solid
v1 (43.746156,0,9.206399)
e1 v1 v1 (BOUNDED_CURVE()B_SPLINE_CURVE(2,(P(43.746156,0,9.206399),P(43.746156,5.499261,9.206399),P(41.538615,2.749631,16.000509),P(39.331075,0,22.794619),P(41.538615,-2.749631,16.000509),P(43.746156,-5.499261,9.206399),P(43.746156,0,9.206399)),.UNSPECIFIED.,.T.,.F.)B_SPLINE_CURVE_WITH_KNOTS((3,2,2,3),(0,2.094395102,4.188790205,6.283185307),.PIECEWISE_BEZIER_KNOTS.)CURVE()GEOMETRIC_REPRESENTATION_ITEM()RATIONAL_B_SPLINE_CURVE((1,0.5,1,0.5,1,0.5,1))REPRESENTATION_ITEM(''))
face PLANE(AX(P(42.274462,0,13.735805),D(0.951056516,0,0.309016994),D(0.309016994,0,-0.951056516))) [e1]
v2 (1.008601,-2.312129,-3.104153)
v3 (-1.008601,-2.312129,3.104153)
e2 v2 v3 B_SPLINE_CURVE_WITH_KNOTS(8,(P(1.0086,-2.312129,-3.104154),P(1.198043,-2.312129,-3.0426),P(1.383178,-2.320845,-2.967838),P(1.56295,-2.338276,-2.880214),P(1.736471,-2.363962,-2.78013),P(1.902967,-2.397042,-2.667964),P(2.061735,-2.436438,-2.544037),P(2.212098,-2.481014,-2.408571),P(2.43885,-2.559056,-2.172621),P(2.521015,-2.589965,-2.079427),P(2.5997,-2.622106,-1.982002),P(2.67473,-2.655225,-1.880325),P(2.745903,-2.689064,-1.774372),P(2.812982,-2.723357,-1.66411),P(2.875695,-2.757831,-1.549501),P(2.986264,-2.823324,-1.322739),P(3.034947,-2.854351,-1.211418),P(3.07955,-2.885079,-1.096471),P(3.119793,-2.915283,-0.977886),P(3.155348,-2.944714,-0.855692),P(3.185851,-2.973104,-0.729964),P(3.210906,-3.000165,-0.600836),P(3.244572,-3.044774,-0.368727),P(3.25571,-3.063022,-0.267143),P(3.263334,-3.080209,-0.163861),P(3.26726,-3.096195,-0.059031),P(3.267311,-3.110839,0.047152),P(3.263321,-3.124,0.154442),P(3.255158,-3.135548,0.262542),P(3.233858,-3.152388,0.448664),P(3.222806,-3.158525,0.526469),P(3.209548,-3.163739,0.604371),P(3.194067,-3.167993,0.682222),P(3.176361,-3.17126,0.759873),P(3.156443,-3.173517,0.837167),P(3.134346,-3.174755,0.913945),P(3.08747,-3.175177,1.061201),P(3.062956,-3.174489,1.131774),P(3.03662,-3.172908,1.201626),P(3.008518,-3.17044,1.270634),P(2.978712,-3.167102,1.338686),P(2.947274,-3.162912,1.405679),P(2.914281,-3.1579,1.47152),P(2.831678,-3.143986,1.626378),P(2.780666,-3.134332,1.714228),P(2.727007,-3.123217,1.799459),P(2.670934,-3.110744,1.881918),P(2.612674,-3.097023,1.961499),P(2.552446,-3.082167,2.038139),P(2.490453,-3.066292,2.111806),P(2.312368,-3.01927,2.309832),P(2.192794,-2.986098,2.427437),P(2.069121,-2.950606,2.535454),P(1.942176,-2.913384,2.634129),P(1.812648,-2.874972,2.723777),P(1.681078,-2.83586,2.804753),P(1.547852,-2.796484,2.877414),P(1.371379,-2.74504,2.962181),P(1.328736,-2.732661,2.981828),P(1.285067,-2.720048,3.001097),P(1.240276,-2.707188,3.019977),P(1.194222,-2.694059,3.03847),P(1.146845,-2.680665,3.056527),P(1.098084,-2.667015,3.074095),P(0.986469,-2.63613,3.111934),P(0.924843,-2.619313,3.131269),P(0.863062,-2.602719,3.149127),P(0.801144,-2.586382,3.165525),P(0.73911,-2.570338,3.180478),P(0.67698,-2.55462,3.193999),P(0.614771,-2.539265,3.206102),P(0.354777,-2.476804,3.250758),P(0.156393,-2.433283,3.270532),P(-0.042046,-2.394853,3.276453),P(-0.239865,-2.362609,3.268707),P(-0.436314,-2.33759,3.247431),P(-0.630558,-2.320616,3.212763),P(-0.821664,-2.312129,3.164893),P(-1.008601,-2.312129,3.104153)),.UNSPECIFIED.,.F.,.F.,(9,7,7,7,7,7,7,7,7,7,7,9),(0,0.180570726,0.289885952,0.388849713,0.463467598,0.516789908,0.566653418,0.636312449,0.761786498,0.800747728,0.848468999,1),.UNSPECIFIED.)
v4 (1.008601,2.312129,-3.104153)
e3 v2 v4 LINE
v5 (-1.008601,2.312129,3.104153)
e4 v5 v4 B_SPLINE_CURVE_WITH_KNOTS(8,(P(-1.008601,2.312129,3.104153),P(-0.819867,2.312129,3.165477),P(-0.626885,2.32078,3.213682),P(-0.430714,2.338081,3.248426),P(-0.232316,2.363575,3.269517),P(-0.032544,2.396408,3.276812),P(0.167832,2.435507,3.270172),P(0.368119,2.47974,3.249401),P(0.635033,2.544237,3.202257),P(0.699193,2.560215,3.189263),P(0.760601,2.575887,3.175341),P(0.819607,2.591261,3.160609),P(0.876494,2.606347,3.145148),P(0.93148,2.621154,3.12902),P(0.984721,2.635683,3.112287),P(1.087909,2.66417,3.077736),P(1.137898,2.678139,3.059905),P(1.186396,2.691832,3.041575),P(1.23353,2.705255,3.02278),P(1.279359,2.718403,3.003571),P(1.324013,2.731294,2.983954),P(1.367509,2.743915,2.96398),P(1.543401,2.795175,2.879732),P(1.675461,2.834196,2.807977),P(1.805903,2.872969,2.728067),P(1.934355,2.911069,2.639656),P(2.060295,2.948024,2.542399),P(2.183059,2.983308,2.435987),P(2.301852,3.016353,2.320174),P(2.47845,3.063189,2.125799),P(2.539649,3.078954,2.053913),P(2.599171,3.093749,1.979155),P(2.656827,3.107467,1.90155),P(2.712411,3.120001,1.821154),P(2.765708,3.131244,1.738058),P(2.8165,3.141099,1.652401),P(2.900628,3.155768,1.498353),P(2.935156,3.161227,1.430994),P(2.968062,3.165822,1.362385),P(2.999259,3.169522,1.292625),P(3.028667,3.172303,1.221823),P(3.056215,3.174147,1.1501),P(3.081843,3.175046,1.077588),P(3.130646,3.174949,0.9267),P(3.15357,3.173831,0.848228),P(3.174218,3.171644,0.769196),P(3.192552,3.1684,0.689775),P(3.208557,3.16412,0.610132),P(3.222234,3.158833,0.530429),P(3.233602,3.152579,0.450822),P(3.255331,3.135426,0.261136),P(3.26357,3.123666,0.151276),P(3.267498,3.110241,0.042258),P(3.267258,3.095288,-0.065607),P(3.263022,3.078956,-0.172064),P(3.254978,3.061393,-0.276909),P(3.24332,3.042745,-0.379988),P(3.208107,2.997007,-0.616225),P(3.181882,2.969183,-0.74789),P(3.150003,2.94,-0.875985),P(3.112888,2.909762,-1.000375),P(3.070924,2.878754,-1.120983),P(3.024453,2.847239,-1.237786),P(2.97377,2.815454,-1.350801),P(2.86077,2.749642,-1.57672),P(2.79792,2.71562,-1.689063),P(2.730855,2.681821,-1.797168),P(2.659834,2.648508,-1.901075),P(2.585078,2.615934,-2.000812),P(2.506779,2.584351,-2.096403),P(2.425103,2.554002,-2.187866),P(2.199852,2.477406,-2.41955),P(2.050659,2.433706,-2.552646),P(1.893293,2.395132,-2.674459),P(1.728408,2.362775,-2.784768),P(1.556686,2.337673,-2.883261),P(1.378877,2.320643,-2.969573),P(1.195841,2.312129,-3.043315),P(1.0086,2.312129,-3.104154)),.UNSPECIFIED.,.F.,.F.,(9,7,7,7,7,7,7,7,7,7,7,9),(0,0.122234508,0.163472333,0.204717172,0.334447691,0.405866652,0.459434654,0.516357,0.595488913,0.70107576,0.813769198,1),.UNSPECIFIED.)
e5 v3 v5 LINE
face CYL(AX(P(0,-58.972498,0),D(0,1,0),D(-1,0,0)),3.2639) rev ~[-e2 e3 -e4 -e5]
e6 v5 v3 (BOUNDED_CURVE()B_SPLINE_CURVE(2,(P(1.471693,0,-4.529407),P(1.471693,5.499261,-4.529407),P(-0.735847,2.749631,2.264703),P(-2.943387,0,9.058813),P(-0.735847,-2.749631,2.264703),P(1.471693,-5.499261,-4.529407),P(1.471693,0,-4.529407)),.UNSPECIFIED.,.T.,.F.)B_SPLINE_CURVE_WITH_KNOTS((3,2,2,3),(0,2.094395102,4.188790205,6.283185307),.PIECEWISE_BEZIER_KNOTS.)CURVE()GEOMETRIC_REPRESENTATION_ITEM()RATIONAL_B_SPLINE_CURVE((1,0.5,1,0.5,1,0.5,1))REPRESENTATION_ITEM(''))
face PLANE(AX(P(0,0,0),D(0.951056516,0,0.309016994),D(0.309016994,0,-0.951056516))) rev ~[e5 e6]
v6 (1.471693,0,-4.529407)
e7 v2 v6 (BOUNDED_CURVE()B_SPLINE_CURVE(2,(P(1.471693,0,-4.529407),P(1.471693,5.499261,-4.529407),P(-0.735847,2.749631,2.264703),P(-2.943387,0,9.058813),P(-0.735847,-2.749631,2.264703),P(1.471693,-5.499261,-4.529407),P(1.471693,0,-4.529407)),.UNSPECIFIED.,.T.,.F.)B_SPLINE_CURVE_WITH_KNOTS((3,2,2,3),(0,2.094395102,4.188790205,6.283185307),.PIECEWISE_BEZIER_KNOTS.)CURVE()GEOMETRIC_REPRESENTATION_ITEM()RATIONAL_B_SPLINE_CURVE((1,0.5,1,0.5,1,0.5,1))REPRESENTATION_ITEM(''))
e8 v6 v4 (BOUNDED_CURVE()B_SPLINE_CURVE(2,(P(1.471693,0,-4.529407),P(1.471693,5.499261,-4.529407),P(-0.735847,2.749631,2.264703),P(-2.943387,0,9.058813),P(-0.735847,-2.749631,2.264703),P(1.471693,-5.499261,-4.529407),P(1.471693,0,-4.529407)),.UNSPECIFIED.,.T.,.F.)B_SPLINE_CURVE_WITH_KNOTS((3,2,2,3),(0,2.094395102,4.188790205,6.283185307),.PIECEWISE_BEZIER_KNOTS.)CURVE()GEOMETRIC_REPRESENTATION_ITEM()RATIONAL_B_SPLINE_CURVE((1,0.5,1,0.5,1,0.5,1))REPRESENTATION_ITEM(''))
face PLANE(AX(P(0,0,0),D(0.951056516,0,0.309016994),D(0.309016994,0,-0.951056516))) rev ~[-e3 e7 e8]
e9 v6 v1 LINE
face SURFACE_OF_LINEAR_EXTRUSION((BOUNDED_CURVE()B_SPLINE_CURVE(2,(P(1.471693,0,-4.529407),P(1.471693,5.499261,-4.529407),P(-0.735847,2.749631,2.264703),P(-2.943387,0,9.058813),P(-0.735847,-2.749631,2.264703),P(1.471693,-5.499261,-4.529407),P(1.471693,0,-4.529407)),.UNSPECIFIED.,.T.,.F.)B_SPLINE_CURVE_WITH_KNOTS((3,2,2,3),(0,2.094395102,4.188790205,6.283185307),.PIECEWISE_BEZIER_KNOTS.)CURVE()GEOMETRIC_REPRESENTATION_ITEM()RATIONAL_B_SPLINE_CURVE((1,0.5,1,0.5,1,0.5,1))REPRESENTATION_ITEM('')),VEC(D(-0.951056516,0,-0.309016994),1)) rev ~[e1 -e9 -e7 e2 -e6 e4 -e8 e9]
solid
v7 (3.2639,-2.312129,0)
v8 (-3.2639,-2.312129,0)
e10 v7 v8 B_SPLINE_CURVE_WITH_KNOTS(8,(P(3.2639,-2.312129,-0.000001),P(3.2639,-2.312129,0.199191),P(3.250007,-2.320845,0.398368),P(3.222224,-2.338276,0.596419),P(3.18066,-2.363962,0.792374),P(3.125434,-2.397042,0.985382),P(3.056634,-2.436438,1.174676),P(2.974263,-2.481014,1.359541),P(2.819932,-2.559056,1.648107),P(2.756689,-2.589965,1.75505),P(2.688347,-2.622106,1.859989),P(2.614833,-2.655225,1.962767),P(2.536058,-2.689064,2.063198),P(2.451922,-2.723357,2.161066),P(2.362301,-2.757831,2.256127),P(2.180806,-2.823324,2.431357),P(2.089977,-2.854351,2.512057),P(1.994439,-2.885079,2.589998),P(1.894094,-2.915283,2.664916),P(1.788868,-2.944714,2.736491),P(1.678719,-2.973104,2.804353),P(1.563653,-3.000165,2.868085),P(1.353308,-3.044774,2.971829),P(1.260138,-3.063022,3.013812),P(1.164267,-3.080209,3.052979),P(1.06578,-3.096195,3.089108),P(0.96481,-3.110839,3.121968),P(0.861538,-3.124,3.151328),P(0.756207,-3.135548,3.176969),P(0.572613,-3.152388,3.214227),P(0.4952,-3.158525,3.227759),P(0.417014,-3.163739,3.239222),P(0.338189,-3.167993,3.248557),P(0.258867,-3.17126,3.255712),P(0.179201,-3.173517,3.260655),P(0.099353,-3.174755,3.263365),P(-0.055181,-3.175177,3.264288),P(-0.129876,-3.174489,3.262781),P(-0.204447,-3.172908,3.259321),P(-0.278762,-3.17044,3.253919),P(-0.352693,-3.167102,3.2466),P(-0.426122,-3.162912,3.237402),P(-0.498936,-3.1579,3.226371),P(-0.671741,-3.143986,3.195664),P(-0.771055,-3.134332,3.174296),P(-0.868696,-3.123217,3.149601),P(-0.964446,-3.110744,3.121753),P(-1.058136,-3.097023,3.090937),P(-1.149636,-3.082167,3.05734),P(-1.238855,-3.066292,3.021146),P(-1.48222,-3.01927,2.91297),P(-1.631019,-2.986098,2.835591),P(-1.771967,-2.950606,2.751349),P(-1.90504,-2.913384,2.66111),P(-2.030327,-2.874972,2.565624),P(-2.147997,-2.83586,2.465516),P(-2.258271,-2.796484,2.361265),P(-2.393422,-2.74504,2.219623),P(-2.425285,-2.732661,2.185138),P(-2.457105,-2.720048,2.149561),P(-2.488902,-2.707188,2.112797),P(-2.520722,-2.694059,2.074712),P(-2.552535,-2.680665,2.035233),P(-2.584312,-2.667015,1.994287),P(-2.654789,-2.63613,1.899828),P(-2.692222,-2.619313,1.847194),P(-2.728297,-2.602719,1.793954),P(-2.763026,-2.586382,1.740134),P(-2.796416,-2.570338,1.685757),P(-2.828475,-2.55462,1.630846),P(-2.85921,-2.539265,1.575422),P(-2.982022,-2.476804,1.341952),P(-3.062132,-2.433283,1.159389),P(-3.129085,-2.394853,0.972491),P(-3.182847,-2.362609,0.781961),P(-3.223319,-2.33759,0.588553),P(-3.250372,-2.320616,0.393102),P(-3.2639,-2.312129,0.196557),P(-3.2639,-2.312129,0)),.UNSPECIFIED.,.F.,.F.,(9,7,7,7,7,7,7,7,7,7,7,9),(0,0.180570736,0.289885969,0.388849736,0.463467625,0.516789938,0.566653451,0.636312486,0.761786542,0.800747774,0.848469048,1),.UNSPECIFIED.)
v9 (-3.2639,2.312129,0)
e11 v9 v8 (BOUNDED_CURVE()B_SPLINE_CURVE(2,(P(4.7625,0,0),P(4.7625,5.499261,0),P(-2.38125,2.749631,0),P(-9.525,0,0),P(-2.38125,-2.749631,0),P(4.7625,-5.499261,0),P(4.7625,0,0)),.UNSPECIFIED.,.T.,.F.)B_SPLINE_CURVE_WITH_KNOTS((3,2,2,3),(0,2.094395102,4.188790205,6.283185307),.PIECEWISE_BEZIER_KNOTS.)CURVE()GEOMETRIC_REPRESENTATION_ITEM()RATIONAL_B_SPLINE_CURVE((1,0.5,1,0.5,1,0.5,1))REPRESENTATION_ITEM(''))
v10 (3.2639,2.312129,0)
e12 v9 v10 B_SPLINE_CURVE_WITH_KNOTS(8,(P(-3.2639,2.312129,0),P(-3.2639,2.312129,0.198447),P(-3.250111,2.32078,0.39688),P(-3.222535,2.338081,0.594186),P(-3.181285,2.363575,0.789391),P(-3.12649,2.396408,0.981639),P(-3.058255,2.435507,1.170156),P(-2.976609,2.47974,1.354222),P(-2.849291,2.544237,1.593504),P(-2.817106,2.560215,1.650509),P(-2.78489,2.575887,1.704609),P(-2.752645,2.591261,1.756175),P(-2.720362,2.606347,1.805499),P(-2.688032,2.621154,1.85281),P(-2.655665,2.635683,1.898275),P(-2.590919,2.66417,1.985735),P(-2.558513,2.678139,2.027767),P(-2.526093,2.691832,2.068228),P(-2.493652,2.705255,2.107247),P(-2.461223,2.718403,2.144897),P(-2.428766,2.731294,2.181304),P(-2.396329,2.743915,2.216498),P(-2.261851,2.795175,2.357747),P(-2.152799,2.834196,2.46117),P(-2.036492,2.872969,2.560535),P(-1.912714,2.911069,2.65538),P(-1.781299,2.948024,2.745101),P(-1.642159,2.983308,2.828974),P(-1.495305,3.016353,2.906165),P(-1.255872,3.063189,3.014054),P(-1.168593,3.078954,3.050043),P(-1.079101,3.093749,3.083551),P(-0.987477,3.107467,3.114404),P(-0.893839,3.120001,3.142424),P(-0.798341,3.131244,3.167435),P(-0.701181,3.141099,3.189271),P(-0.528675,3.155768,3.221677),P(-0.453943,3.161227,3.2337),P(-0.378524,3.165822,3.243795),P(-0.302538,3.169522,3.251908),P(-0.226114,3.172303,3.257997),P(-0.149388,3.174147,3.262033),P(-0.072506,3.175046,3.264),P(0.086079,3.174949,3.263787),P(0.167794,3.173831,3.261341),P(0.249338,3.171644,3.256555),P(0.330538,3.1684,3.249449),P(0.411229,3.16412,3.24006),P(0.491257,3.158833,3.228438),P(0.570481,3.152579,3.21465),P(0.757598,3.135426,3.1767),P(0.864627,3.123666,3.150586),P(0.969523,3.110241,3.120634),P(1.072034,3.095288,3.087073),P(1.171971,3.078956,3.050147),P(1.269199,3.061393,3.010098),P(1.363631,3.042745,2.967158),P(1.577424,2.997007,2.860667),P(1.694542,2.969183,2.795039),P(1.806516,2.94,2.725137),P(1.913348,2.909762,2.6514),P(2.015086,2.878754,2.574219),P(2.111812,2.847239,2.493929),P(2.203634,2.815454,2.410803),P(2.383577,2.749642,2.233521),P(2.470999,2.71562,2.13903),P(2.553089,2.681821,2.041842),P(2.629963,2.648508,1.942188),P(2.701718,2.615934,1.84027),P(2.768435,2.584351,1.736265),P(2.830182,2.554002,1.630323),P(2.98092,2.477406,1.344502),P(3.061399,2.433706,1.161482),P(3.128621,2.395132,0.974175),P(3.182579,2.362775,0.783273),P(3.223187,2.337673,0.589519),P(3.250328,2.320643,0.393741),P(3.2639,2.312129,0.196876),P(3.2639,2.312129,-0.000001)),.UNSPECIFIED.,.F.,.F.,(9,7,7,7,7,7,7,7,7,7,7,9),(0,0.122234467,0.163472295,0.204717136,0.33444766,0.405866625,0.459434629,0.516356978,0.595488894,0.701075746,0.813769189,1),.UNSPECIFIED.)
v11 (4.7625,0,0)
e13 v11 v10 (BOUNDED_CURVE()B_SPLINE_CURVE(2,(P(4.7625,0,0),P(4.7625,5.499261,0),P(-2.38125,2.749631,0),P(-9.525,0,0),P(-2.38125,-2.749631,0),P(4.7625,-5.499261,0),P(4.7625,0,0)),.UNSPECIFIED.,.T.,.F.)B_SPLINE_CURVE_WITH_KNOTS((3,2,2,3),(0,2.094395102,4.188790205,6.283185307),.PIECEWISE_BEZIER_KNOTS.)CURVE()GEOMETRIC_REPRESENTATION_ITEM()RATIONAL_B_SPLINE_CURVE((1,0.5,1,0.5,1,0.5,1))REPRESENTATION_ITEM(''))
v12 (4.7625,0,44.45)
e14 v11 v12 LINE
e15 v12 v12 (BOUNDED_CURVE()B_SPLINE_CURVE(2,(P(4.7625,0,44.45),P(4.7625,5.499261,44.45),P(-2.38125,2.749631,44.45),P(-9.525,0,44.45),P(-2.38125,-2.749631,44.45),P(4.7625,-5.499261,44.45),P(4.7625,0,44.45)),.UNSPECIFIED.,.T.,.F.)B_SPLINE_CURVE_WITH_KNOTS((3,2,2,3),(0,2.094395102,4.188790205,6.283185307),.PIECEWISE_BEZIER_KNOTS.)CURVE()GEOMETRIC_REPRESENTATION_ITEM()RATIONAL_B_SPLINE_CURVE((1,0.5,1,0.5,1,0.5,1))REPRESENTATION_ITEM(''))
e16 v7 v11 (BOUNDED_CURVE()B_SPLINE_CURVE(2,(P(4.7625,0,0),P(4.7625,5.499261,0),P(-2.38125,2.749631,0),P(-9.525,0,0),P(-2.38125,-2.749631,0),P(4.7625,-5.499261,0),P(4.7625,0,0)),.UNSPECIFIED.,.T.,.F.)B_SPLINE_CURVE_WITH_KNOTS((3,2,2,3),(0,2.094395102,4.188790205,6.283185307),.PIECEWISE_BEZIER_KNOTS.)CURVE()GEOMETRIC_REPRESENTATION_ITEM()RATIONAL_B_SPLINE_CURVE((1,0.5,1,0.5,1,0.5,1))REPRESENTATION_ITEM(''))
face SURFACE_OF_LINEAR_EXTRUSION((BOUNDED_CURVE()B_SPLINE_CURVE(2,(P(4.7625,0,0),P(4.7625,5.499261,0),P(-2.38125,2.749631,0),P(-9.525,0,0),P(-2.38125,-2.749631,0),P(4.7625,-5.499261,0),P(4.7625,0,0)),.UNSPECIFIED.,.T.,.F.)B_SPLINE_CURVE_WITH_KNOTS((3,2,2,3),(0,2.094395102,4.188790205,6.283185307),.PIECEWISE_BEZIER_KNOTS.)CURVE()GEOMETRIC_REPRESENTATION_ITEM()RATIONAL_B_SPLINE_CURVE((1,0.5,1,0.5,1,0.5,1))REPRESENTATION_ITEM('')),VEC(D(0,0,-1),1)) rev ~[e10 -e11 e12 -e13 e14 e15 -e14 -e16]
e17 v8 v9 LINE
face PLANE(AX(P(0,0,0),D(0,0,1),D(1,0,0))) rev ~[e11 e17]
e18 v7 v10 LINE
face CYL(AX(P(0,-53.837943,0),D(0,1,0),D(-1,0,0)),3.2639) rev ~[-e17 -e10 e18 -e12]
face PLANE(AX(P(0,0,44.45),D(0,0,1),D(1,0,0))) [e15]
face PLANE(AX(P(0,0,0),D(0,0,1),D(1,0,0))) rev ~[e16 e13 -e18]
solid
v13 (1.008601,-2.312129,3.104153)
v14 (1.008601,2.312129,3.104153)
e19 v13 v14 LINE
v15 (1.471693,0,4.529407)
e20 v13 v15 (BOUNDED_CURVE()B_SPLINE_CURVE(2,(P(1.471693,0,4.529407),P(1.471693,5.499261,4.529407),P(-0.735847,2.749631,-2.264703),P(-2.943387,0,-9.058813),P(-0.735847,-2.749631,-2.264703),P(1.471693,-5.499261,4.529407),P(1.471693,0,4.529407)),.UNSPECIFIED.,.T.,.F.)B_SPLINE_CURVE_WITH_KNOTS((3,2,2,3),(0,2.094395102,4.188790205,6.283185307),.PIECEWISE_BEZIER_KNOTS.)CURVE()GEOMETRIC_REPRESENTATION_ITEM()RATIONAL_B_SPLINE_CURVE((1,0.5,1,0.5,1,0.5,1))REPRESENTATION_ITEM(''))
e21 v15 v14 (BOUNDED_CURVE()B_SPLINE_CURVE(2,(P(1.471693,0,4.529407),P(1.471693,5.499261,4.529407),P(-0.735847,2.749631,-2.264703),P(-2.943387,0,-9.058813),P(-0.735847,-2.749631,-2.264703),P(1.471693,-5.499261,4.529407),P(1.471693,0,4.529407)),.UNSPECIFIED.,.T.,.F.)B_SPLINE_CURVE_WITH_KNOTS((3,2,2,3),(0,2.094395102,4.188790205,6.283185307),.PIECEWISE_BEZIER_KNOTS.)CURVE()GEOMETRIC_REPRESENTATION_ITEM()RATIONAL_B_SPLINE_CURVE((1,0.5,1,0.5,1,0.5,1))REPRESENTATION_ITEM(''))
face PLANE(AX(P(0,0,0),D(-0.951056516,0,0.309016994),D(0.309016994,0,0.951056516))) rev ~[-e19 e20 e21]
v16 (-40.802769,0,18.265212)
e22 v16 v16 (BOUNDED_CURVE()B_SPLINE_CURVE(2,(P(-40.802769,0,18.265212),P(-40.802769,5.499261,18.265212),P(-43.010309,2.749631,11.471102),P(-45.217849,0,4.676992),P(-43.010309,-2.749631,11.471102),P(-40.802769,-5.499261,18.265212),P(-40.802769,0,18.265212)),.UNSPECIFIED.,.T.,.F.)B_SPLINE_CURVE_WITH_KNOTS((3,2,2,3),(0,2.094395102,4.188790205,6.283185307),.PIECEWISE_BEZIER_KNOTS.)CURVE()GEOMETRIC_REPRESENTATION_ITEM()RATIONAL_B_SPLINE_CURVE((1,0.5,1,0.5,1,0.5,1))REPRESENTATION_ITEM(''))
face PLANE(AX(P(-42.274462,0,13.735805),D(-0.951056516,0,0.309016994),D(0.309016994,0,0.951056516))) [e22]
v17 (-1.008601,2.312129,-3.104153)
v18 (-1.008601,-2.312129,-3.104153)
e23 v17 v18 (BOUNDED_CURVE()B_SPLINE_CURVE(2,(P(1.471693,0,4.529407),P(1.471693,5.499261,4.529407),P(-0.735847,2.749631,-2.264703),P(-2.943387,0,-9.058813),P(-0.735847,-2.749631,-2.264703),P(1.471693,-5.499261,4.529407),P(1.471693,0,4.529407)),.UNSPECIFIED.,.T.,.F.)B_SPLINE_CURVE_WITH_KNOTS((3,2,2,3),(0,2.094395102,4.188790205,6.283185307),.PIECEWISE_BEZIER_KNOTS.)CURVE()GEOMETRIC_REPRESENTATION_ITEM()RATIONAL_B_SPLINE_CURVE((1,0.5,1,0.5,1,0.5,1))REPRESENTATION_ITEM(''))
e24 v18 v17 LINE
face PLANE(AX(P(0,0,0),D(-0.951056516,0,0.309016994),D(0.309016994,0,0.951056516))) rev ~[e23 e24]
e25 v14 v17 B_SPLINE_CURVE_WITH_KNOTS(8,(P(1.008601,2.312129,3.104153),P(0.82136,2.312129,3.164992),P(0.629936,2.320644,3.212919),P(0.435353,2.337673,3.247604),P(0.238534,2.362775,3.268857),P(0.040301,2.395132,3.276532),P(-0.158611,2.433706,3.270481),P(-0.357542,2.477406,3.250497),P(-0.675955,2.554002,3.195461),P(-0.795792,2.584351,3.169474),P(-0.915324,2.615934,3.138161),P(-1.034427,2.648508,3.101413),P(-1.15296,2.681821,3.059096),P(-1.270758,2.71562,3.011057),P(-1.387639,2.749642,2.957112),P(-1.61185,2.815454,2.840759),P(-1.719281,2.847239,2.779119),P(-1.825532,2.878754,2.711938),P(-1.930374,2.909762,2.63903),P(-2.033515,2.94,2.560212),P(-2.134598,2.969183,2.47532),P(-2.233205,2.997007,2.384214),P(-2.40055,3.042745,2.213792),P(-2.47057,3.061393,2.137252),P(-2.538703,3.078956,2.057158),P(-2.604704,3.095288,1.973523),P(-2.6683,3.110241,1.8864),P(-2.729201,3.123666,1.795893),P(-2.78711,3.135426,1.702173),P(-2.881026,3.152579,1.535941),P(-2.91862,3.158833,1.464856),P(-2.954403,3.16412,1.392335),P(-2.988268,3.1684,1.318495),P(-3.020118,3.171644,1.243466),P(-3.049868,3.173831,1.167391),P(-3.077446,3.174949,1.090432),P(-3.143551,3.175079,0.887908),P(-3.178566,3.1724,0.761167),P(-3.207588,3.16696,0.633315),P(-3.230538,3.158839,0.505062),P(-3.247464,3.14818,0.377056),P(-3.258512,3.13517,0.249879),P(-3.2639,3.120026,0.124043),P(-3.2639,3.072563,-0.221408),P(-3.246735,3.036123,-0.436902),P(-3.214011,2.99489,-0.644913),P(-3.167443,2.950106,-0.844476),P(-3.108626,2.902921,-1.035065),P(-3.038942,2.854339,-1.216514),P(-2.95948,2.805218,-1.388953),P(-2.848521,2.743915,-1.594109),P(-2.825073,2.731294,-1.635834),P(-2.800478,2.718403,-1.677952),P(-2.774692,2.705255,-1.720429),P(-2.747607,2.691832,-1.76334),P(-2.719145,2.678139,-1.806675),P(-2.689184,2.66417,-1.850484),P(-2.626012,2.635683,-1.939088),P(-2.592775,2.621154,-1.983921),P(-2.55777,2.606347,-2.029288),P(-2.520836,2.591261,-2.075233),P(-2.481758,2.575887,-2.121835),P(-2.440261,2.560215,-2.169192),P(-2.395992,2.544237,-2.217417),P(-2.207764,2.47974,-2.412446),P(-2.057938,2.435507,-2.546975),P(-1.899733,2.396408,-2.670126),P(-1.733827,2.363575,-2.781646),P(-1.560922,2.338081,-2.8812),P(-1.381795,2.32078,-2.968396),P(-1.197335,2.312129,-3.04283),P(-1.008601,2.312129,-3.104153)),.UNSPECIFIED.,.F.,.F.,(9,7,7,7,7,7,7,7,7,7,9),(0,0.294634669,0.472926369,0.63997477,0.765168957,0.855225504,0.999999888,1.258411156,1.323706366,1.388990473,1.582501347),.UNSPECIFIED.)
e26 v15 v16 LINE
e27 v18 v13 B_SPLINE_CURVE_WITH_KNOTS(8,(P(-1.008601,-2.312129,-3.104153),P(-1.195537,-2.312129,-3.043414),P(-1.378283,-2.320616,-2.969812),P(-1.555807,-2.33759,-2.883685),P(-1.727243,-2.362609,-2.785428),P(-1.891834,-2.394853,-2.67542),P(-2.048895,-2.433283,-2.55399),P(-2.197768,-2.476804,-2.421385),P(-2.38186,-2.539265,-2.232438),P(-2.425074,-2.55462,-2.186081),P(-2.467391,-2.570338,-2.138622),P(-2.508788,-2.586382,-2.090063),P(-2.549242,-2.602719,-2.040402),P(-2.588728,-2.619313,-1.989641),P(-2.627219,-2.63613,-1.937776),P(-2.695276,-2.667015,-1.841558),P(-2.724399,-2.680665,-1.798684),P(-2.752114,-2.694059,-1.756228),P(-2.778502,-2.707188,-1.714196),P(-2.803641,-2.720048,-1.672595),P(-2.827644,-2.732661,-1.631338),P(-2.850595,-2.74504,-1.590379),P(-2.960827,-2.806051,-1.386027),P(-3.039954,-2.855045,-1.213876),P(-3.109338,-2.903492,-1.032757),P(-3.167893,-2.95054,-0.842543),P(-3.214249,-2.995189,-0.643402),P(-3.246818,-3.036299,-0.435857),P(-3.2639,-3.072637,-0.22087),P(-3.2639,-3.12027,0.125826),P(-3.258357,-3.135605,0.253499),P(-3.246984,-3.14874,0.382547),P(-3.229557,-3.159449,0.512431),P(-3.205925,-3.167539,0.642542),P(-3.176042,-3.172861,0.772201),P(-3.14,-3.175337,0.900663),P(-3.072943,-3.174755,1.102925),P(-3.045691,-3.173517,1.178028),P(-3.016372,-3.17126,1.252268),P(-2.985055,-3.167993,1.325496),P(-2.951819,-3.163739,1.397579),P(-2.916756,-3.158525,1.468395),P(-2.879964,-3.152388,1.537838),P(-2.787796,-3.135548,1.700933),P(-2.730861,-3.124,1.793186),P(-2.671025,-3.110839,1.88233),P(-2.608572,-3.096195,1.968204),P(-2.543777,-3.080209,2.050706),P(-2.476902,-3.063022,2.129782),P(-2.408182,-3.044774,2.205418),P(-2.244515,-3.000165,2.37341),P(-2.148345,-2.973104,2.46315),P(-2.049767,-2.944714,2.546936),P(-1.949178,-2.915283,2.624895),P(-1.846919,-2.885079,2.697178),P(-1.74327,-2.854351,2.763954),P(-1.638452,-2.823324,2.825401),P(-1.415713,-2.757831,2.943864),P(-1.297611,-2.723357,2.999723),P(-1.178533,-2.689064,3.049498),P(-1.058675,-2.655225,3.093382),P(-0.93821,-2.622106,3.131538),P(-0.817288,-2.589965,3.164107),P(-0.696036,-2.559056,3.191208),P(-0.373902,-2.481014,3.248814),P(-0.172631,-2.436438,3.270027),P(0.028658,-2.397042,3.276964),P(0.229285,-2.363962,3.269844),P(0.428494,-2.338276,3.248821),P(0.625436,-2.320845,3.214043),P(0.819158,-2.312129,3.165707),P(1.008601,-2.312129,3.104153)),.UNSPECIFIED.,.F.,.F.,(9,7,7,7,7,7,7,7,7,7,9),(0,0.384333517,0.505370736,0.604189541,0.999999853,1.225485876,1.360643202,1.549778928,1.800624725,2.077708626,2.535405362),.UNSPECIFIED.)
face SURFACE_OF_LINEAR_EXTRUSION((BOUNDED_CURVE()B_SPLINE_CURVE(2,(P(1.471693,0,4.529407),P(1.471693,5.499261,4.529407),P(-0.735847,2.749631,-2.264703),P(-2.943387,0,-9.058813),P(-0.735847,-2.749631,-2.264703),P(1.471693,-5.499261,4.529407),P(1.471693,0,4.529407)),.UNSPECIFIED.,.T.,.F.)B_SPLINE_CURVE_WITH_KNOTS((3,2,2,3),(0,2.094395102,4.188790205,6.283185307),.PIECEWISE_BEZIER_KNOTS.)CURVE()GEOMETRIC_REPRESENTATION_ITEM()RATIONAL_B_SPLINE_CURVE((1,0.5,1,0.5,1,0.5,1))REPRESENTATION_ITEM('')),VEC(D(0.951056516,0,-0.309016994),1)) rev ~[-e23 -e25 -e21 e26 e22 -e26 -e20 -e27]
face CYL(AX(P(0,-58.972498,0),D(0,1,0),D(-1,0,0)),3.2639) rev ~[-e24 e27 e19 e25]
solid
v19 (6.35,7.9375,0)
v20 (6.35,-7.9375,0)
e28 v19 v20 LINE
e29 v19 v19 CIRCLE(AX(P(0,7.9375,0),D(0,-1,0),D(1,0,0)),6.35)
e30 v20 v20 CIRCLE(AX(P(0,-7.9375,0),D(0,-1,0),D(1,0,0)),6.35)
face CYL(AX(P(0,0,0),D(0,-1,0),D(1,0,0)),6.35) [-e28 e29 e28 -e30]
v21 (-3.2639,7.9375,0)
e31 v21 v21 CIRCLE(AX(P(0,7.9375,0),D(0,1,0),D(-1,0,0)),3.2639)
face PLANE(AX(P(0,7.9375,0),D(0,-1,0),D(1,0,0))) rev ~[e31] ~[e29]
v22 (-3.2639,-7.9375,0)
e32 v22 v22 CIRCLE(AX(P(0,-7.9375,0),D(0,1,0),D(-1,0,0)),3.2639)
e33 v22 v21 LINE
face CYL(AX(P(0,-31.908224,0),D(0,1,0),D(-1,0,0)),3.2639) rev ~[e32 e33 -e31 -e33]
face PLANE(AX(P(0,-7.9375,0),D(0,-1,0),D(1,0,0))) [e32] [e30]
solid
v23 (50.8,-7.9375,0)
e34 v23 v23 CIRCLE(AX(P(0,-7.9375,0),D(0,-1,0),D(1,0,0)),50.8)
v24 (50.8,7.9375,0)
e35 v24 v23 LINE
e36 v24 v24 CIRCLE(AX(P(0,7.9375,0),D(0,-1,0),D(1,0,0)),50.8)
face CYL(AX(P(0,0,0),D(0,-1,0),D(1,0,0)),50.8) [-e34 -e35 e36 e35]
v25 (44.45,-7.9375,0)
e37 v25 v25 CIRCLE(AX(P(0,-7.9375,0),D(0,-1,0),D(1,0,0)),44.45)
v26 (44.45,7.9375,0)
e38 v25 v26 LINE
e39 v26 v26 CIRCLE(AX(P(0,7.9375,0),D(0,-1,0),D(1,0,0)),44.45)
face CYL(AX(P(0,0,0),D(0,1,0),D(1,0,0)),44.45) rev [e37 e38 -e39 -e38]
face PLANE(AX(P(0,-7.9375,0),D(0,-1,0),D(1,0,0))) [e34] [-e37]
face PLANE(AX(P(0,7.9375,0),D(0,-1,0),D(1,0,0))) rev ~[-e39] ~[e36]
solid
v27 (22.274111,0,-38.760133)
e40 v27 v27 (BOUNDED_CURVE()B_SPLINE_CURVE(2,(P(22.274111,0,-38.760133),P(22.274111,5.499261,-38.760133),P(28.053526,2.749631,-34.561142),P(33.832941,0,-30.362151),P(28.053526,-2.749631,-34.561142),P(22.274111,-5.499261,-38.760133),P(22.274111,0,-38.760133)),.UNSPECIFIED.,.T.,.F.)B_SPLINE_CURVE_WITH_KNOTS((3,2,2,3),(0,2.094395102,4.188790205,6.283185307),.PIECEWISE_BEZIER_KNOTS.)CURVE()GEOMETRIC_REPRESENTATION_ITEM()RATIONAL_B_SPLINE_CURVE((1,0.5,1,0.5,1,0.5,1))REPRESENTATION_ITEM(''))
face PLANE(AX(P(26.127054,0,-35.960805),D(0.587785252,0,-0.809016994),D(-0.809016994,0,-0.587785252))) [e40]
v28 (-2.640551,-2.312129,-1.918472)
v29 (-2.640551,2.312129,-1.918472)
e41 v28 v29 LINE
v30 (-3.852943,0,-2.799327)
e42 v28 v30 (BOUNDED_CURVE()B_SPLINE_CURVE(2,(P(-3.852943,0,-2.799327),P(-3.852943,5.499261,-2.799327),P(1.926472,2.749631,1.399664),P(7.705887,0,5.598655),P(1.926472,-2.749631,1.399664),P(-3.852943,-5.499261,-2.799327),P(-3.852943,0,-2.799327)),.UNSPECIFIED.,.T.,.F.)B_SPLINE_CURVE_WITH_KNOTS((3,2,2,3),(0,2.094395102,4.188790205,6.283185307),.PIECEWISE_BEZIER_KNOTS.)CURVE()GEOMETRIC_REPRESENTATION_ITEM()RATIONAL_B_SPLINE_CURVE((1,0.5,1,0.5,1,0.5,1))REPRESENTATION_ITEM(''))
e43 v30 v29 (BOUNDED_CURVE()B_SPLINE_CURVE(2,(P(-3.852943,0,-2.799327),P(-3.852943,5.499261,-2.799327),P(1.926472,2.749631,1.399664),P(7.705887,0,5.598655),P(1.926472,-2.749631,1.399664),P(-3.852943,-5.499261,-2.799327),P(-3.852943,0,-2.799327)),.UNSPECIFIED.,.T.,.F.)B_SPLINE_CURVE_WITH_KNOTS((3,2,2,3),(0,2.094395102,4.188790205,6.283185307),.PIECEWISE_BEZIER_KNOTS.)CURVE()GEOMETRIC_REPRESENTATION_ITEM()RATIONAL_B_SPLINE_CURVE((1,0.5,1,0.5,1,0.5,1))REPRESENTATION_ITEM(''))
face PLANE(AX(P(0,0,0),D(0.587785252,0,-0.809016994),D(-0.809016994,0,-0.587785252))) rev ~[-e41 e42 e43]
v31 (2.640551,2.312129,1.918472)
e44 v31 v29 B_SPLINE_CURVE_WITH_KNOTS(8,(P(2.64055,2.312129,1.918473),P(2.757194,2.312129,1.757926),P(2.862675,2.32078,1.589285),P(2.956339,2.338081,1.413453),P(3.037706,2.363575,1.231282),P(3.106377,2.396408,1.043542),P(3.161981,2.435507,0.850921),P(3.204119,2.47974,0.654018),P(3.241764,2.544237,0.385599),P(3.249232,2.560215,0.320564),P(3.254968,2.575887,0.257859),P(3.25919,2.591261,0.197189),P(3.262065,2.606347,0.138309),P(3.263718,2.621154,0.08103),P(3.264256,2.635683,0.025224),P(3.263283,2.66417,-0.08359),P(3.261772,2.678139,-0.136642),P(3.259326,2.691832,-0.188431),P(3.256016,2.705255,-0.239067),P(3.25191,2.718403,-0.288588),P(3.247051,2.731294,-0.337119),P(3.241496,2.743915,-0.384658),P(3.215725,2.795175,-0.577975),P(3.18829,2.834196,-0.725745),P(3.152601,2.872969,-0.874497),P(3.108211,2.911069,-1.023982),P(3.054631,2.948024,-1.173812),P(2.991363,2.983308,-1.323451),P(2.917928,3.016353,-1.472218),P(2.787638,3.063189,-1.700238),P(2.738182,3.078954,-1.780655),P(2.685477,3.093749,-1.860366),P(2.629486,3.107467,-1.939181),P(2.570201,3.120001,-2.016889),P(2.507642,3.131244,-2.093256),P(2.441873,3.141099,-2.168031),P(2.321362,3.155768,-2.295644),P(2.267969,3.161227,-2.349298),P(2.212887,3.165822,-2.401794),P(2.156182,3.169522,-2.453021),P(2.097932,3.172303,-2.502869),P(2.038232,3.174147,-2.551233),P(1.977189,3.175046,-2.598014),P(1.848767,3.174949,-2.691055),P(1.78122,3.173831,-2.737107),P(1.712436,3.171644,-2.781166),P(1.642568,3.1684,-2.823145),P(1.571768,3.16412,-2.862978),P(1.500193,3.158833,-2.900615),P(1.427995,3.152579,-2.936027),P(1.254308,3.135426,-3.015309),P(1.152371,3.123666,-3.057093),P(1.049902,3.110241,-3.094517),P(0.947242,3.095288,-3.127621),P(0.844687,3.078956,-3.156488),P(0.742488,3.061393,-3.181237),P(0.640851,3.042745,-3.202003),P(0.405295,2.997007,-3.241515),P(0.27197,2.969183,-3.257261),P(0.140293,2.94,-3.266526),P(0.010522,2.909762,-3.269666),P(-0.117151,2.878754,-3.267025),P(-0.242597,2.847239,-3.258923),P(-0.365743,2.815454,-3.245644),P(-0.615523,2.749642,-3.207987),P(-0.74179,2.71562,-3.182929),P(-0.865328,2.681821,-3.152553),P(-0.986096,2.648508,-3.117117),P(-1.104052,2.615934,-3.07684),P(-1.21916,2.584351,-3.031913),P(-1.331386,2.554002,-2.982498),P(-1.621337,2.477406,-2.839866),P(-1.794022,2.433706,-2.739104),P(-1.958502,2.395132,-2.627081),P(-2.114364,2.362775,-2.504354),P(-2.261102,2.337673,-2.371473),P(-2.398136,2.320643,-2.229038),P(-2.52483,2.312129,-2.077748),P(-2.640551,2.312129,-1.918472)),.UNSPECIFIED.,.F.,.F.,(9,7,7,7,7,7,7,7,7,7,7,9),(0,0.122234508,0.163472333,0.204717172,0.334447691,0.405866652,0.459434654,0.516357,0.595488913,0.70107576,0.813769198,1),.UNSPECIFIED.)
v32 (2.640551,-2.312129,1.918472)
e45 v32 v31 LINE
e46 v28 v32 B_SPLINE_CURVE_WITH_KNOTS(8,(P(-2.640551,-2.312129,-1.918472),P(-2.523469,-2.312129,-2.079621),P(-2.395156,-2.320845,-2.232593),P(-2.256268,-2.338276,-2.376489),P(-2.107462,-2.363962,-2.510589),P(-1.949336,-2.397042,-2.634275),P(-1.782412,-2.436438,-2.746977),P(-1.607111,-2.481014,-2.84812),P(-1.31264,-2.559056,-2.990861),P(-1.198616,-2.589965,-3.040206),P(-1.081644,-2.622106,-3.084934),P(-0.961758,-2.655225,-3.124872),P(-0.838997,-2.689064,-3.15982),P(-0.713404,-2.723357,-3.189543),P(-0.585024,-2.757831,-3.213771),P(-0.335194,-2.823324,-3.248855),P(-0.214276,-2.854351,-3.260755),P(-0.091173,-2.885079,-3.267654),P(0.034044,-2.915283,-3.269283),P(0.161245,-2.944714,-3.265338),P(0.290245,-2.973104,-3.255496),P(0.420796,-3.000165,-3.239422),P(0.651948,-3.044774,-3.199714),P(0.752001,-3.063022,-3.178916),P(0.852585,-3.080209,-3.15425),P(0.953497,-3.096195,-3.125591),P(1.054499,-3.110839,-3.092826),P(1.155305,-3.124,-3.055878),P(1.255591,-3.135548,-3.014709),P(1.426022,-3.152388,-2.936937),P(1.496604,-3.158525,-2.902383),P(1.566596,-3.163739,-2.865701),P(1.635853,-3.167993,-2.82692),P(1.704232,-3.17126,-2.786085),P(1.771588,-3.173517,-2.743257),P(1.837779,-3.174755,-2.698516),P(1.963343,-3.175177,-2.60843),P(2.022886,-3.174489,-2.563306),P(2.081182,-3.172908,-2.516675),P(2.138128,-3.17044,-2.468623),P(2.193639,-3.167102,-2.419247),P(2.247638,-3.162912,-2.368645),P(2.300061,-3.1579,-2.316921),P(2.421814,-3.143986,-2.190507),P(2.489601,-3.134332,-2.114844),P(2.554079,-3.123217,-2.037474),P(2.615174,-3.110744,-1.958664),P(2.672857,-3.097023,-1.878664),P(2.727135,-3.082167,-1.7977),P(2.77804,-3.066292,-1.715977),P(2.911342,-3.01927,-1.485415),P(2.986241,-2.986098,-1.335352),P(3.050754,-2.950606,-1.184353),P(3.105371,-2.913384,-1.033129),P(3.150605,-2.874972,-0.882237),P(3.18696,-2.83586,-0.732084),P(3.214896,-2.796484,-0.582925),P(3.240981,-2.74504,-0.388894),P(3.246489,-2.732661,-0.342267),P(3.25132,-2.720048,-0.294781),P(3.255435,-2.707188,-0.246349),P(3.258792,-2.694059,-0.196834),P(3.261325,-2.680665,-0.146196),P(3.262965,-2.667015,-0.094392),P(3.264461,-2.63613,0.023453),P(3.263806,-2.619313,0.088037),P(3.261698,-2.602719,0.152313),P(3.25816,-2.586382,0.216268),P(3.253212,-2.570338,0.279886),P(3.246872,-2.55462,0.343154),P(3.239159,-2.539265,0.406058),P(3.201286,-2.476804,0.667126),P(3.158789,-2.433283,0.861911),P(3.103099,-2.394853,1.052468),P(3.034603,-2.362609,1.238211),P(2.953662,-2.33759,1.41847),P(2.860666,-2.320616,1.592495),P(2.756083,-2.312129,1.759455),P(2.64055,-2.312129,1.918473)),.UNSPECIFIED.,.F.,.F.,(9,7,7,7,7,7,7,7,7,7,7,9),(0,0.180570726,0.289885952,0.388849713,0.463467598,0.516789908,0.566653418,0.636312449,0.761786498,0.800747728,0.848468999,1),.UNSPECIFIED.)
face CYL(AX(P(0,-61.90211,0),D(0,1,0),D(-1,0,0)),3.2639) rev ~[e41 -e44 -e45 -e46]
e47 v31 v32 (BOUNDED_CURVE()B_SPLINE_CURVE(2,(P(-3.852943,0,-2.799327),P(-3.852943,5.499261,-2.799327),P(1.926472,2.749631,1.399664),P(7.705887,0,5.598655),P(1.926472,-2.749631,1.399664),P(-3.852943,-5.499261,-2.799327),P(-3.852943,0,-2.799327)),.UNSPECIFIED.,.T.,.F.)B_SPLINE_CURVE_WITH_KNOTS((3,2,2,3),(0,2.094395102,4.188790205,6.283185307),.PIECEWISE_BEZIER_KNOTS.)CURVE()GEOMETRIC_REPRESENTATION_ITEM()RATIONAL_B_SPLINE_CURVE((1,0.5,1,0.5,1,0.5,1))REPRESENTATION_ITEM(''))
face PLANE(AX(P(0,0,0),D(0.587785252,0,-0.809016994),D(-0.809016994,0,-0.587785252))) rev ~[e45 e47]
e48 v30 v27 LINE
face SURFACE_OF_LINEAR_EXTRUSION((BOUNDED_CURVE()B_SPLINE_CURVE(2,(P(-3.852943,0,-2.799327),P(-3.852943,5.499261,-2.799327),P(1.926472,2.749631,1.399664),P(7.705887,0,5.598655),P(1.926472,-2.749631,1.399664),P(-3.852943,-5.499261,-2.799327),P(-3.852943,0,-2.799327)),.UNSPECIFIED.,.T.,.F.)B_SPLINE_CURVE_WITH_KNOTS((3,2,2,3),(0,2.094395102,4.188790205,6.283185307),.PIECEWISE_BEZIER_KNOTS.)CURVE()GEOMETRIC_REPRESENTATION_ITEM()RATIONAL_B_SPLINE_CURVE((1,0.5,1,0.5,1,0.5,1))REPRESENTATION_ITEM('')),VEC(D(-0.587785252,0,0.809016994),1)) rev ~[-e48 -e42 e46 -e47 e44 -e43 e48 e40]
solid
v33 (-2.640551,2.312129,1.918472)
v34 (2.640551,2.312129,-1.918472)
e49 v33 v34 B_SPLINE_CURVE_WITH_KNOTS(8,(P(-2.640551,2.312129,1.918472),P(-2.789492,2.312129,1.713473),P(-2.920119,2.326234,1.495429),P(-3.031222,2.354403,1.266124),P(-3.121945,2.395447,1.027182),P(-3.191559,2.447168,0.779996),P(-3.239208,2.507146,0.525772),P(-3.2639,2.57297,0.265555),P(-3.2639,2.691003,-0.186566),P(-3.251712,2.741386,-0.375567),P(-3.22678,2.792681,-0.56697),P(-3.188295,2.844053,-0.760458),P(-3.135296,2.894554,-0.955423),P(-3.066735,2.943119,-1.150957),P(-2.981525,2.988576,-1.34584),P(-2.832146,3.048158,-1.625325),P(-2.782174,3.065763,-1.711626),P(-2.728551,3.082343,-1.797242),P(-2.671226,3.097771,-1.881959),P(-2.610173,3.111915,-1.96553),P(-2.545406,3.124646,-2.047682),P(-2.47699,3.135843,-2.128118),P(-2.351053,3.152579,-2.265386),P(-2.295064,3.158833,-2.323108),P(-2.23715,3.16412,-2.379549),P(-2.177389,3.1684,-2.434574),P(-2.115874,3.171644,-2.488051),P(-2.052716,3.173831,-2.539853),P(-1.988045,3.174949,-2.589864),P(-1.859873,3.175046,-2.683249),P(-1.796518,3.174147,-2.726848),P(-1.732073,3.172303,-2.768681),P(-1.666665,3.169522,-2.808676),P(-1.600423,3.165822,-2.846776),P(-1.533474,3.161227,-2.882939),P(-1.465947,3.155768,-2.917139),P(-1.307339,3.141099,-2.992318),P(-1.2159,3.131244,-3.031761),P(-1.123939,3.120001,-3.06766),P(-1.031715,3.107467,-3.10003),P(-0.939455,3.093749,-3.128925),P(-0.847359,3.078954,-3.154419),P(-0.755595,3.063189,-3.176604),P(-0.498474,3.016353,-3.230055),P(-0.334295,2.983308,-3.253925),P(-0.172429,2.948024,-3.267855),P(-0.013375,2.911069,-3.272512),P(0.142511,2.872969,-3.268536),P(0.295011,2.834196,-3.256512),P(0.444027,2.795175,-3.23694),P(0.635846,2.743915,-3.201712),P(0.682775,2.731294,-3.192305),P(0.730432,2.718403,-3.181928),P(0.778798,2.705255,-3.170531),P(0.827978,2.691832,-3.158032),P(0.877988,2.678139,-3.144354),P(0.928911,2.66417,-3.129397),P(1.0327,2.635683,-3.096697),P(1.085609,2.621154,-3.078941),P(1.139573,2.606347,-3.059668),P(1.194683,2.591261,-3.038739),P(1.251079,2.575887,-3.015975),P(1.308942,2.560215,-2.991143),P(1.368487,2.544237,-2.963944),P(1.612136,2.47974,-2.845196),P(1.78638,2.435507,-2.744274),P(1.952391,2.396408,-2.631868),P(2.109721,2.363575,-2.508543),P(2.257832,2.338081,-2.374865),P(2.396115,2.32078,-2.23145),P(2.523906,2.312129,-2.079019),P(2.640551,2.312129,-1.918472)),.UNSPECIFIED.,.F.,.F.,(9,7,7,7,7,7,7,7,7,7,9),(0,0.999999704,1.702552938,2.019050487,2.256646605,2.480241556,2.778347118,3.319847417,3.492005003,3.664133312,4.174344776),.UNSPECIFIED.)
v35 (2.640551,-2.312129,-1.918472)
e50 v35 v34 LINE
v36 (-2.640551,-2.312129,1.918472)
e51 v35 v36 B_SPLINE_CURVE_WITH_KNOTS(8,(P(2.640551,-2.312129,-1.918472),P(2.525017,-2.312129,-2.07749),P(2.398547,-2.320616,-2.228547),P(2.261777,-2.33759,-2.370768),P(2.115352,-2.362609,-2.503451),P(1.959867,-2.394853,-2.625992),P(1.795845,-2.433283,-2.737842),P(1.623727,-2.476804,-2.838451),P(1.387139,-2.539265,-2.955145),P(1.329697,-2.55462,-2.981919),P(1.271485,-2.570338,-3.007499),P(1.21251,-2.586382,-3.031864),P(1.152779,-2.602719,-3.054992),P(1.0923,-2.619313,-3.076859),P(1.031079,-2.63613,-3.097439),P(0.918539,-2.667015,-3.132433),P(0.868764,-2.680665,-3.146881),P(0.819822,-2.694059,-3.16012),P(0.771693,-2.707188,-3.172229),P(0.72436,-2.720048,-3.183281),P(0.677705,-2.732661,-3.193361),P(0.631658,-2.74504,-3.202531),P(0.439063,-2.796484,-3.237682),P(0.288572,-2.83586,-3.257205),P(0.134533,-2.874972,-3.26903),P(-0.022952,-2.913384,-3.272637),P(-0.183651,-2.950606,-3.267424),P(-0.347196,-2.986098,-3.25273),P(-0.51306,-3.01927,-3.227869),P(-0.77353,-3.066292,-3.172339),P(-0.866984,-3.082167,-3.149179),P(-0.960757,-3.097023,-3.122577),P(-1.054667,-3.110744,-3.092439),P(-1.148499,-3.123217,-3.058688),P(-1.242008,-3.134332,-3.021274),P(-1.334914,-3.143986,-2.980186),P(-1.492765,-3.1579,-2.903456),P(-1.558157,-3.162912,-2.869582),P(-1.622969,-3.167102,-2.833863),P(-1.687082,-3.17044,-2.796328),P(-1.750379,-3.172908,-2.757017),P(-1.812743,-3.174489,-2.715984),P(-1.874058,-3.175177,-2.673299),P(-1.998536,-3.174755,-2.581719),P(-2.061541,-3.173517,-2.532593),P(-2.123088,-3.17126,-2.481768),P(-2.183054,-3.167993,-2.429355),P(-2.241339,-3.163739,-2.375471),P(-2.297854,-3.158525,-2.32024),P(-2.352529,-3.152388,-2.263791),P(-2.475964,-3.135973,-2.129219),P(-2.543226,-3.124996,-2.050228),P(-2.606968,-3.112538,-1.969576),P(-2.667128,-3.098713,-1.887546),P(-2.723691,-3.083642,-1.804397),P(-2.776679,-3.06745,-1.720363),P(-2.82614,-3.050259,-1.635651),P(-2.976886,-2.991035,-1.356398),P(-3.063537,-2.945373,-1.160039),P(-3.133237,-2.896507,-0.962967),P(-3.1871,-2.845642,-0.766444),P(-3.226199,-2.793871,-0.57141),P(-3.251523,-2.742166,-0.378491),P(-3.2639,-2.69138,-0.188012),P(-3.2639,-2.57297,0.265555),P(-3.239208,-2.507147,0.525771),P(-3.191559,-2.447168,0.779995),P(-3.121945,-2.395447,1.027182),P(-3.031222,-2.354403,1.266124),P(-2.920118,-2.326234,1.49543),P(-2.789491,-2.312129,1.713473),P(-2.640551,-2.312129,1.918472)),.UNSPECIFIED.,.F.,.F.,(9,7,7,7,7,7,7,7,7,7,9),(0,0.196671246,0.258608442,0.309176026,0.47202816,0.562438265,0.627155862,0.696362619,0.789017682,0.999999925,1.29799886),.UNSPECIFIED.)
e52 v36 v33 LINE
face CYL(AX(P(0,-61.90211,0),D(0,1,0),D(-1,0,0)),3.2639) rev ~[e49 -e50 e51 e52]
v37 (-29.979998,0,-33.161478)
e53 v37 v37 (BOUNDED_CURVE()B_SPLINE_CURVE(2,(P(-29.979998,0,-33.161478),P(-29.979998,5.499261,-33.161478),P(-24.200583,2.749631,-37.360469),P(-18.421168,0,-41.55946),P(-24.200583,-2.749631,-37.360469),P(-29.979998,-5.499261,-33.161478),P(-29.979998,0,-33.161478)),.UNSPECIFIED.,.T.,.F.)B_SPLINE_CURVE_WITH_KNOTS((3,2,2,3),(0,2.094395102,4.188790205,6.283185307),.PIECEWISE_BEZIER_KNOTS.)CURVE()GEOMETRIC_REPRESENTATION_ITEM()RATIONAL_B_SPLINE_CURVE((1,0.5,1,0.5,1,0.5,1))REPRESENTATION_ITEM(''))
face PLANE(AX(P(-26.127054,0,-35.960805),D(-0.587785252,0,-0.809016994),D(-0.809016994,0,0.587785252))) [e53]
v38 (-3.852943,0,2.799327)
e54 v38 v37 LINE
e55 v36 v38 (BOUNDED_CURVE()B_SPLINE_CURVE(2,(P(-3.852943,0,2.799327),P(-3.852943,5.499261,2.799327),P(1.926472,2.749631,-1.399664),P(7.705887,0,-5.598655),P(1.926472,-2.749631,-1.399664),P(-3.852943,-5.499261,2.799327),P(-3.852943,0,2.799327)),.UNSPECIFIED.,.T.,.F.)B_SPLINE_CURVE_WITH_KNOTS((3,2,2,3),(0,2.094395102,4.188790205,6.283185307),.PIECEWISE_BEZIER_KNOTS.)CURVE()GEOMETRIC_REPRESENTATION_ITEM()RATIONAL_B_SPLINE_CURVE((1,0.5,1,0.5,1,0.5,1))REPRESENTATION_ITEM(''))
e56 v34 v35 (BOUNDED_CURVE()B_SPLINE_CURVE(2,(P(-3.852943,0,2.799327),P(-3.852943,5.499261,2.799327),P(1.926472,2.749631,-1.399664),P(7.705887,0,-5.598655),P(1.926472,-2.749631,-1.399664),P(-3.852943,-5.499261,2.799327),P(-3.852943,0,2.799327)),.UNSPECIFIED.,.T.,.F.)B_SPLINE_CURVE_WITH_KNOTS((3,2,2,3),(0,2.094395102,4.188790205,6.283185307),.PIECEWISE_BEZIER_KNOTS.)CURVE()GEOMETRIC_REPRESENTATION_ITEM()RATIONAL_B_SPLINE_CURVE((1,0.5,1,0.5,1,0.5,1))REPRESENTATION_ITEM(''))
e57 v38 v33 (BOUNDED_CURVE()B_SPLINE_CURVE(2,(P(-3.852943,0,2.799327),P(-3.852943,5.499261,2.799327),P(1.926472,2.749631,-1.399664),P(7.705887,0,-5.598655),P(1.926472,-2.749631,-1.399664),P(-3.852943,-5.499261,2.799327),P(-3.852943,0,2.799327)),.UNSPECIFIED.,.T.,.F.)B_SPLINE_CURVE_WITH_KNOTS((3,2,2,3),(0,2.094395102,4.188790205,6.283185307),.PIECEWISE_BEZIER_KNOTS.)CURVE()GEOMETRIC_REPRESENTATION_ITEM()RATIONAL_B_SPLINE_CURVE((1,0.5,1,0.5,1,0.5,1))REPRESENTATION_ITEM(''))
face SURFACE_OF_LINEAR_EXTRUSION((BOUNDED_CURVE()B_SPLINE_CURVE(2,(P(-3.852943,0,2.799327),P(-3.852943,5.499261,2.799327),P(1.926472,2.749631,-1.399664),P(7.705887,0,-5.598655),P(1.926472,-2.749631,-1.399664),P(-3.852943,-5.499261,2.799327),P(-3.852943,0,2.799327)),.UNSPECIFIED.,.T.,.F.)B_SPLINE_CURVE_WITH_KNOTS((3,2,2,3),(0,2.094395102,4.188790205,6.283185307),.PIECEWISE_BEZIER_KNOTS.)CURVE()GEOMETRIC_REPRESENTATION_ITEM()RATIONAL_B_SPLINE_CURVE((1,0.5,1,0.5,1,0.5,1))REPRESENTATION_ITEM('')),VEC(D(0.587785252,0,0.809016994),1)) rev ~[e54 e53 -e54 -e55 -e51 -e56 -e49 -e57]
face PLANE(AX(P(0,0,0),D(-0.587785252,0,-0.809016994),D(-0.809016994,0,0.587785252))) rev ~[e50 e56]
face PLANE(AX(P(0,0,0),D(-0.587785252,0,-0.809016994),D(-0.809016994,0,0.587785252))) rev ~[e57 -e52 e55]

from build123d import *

# Parameters (mm, degrees)
F3_DEPTH = 44.45
F4_COUNT = 5
F0_R     = 6.35
F5_DEPTH = 7.9375
F7_D     = 6.5278
F7_2_D   = 6.5278
F7_3_D   = 6.5278
F7_4_D   = 6.5278
F7_5_D   = 6.5278
F7_6_D   = 6.5278
F0_R_2   = 50.8
F0_R_3   = 44.45
F8_DEPTH = 7.9375


with BuildPart() as f3:
    # F2 (on Top) → F3 (new body)
    with BuildSketch(Plane.XY):
        with BuildLine():
            add(Edge.make_bspline(
                [(4.7625, 0), (4.7625, 5.499261314), (-2.38125, 2.749630657), (-9.525, 0), (-2.38125, -2.749630657), (4.7625, -5.499261314), (4.7625, 0)],
                knots=[0, 0, 0, 2.0943951024, 2.0943951024, 4.1887902048, 4.1887902048, 6.2831853072, 6.2831853072, 6.2831853072], degree=2, weights=[1, 0.5, 1, 0.5, 1, 0.5, 1]))
        make_face()
    extrude(amount=F3_DEPTH)


with BuildPart() as f4_1:
    # F4: instance of F3
    add(f3.part.rotate(Axis((0, -25.1068901271, 0), (0, -1, 0)), 1 * 360 / F4_COUNT))

    # F7#2 (through all)
    with Locations(Plane.XZ.offset(7.9375)):
        with Locations((0, 0)):
            Hole(F7_2_D / 2)


with BuildPart() as f4_2:
    # F4: instance of F3
    add(f3.part.rotate(Axis((0, -25.1068901271, 0), (0, -1, 0)), 2 * 360 / F4_COUNT))

    # F7#3 (through all)
    with Locations(Plane.XZ.offset(7.9375)):
        with Locations((0, 0)):
            Hole(F7_3_D / 2)


with BuildPart() as f4_3:
    # F4: instance of F3
    add(f3.part.rotate(Axis((0, -25.1068901271, 0), (0, -1, 0)), 3 * 360 / F4_COUNT))

    # F7#4 (through all)
    with Locations(Plane.XZ.offset(7.9375)):
        with Locations((0, 0)):
            Hole(F7_4_D / 2)


with BuildPart() as f4_4:
    # F4: instance of F3
    add(f3.part.rotate(Axis((0, -25.1068901271, 0), (0, -1, 0)), 4 * 360 / F4_COUNT))

    # F7#5 (through all)
    with Locations(Plane.XZ.offset(7.9375)):
        with Locations((0, 0)):
            Hole(F7_5_D / 2)


with BuildPart() as f5:
    # F0 (on Front) → F5 (new body, symmetric)
    with BuildSketch(Plane.XZ):
        Circle(F0_R)
    extrude(amount=F5_DEPTH, both=True)

    # F7#6 (through all)
    with Locations(Plane.XZ.offset(7.9375)):
        with Locations((0, 0)):
            Hole(F7_6_D / 2)


with BuildPart() as f3_1:
    add(f3.part)

    # F7 (through all)
    with Locations(Plane.XZ.offset(7.9375)):
        with Locations((0, 0)):
            Hole(F7_D / 2)


with BuildPart() as f8:
    # F0 (on Front) → F8 (new body, symmetric)
    with BuildSketch(Plane.XZ):
        Circle(F0_R_2)
        Circle(F0_R_3, mode=Mode.SUBTRACT)
    extrude(amount=F8_DEPTH, both=True)


solid = Compound([f4_1.part, f4_2.part, f4_3.part, f4_4.part, f5.part, f3_1.part, f8.part])
